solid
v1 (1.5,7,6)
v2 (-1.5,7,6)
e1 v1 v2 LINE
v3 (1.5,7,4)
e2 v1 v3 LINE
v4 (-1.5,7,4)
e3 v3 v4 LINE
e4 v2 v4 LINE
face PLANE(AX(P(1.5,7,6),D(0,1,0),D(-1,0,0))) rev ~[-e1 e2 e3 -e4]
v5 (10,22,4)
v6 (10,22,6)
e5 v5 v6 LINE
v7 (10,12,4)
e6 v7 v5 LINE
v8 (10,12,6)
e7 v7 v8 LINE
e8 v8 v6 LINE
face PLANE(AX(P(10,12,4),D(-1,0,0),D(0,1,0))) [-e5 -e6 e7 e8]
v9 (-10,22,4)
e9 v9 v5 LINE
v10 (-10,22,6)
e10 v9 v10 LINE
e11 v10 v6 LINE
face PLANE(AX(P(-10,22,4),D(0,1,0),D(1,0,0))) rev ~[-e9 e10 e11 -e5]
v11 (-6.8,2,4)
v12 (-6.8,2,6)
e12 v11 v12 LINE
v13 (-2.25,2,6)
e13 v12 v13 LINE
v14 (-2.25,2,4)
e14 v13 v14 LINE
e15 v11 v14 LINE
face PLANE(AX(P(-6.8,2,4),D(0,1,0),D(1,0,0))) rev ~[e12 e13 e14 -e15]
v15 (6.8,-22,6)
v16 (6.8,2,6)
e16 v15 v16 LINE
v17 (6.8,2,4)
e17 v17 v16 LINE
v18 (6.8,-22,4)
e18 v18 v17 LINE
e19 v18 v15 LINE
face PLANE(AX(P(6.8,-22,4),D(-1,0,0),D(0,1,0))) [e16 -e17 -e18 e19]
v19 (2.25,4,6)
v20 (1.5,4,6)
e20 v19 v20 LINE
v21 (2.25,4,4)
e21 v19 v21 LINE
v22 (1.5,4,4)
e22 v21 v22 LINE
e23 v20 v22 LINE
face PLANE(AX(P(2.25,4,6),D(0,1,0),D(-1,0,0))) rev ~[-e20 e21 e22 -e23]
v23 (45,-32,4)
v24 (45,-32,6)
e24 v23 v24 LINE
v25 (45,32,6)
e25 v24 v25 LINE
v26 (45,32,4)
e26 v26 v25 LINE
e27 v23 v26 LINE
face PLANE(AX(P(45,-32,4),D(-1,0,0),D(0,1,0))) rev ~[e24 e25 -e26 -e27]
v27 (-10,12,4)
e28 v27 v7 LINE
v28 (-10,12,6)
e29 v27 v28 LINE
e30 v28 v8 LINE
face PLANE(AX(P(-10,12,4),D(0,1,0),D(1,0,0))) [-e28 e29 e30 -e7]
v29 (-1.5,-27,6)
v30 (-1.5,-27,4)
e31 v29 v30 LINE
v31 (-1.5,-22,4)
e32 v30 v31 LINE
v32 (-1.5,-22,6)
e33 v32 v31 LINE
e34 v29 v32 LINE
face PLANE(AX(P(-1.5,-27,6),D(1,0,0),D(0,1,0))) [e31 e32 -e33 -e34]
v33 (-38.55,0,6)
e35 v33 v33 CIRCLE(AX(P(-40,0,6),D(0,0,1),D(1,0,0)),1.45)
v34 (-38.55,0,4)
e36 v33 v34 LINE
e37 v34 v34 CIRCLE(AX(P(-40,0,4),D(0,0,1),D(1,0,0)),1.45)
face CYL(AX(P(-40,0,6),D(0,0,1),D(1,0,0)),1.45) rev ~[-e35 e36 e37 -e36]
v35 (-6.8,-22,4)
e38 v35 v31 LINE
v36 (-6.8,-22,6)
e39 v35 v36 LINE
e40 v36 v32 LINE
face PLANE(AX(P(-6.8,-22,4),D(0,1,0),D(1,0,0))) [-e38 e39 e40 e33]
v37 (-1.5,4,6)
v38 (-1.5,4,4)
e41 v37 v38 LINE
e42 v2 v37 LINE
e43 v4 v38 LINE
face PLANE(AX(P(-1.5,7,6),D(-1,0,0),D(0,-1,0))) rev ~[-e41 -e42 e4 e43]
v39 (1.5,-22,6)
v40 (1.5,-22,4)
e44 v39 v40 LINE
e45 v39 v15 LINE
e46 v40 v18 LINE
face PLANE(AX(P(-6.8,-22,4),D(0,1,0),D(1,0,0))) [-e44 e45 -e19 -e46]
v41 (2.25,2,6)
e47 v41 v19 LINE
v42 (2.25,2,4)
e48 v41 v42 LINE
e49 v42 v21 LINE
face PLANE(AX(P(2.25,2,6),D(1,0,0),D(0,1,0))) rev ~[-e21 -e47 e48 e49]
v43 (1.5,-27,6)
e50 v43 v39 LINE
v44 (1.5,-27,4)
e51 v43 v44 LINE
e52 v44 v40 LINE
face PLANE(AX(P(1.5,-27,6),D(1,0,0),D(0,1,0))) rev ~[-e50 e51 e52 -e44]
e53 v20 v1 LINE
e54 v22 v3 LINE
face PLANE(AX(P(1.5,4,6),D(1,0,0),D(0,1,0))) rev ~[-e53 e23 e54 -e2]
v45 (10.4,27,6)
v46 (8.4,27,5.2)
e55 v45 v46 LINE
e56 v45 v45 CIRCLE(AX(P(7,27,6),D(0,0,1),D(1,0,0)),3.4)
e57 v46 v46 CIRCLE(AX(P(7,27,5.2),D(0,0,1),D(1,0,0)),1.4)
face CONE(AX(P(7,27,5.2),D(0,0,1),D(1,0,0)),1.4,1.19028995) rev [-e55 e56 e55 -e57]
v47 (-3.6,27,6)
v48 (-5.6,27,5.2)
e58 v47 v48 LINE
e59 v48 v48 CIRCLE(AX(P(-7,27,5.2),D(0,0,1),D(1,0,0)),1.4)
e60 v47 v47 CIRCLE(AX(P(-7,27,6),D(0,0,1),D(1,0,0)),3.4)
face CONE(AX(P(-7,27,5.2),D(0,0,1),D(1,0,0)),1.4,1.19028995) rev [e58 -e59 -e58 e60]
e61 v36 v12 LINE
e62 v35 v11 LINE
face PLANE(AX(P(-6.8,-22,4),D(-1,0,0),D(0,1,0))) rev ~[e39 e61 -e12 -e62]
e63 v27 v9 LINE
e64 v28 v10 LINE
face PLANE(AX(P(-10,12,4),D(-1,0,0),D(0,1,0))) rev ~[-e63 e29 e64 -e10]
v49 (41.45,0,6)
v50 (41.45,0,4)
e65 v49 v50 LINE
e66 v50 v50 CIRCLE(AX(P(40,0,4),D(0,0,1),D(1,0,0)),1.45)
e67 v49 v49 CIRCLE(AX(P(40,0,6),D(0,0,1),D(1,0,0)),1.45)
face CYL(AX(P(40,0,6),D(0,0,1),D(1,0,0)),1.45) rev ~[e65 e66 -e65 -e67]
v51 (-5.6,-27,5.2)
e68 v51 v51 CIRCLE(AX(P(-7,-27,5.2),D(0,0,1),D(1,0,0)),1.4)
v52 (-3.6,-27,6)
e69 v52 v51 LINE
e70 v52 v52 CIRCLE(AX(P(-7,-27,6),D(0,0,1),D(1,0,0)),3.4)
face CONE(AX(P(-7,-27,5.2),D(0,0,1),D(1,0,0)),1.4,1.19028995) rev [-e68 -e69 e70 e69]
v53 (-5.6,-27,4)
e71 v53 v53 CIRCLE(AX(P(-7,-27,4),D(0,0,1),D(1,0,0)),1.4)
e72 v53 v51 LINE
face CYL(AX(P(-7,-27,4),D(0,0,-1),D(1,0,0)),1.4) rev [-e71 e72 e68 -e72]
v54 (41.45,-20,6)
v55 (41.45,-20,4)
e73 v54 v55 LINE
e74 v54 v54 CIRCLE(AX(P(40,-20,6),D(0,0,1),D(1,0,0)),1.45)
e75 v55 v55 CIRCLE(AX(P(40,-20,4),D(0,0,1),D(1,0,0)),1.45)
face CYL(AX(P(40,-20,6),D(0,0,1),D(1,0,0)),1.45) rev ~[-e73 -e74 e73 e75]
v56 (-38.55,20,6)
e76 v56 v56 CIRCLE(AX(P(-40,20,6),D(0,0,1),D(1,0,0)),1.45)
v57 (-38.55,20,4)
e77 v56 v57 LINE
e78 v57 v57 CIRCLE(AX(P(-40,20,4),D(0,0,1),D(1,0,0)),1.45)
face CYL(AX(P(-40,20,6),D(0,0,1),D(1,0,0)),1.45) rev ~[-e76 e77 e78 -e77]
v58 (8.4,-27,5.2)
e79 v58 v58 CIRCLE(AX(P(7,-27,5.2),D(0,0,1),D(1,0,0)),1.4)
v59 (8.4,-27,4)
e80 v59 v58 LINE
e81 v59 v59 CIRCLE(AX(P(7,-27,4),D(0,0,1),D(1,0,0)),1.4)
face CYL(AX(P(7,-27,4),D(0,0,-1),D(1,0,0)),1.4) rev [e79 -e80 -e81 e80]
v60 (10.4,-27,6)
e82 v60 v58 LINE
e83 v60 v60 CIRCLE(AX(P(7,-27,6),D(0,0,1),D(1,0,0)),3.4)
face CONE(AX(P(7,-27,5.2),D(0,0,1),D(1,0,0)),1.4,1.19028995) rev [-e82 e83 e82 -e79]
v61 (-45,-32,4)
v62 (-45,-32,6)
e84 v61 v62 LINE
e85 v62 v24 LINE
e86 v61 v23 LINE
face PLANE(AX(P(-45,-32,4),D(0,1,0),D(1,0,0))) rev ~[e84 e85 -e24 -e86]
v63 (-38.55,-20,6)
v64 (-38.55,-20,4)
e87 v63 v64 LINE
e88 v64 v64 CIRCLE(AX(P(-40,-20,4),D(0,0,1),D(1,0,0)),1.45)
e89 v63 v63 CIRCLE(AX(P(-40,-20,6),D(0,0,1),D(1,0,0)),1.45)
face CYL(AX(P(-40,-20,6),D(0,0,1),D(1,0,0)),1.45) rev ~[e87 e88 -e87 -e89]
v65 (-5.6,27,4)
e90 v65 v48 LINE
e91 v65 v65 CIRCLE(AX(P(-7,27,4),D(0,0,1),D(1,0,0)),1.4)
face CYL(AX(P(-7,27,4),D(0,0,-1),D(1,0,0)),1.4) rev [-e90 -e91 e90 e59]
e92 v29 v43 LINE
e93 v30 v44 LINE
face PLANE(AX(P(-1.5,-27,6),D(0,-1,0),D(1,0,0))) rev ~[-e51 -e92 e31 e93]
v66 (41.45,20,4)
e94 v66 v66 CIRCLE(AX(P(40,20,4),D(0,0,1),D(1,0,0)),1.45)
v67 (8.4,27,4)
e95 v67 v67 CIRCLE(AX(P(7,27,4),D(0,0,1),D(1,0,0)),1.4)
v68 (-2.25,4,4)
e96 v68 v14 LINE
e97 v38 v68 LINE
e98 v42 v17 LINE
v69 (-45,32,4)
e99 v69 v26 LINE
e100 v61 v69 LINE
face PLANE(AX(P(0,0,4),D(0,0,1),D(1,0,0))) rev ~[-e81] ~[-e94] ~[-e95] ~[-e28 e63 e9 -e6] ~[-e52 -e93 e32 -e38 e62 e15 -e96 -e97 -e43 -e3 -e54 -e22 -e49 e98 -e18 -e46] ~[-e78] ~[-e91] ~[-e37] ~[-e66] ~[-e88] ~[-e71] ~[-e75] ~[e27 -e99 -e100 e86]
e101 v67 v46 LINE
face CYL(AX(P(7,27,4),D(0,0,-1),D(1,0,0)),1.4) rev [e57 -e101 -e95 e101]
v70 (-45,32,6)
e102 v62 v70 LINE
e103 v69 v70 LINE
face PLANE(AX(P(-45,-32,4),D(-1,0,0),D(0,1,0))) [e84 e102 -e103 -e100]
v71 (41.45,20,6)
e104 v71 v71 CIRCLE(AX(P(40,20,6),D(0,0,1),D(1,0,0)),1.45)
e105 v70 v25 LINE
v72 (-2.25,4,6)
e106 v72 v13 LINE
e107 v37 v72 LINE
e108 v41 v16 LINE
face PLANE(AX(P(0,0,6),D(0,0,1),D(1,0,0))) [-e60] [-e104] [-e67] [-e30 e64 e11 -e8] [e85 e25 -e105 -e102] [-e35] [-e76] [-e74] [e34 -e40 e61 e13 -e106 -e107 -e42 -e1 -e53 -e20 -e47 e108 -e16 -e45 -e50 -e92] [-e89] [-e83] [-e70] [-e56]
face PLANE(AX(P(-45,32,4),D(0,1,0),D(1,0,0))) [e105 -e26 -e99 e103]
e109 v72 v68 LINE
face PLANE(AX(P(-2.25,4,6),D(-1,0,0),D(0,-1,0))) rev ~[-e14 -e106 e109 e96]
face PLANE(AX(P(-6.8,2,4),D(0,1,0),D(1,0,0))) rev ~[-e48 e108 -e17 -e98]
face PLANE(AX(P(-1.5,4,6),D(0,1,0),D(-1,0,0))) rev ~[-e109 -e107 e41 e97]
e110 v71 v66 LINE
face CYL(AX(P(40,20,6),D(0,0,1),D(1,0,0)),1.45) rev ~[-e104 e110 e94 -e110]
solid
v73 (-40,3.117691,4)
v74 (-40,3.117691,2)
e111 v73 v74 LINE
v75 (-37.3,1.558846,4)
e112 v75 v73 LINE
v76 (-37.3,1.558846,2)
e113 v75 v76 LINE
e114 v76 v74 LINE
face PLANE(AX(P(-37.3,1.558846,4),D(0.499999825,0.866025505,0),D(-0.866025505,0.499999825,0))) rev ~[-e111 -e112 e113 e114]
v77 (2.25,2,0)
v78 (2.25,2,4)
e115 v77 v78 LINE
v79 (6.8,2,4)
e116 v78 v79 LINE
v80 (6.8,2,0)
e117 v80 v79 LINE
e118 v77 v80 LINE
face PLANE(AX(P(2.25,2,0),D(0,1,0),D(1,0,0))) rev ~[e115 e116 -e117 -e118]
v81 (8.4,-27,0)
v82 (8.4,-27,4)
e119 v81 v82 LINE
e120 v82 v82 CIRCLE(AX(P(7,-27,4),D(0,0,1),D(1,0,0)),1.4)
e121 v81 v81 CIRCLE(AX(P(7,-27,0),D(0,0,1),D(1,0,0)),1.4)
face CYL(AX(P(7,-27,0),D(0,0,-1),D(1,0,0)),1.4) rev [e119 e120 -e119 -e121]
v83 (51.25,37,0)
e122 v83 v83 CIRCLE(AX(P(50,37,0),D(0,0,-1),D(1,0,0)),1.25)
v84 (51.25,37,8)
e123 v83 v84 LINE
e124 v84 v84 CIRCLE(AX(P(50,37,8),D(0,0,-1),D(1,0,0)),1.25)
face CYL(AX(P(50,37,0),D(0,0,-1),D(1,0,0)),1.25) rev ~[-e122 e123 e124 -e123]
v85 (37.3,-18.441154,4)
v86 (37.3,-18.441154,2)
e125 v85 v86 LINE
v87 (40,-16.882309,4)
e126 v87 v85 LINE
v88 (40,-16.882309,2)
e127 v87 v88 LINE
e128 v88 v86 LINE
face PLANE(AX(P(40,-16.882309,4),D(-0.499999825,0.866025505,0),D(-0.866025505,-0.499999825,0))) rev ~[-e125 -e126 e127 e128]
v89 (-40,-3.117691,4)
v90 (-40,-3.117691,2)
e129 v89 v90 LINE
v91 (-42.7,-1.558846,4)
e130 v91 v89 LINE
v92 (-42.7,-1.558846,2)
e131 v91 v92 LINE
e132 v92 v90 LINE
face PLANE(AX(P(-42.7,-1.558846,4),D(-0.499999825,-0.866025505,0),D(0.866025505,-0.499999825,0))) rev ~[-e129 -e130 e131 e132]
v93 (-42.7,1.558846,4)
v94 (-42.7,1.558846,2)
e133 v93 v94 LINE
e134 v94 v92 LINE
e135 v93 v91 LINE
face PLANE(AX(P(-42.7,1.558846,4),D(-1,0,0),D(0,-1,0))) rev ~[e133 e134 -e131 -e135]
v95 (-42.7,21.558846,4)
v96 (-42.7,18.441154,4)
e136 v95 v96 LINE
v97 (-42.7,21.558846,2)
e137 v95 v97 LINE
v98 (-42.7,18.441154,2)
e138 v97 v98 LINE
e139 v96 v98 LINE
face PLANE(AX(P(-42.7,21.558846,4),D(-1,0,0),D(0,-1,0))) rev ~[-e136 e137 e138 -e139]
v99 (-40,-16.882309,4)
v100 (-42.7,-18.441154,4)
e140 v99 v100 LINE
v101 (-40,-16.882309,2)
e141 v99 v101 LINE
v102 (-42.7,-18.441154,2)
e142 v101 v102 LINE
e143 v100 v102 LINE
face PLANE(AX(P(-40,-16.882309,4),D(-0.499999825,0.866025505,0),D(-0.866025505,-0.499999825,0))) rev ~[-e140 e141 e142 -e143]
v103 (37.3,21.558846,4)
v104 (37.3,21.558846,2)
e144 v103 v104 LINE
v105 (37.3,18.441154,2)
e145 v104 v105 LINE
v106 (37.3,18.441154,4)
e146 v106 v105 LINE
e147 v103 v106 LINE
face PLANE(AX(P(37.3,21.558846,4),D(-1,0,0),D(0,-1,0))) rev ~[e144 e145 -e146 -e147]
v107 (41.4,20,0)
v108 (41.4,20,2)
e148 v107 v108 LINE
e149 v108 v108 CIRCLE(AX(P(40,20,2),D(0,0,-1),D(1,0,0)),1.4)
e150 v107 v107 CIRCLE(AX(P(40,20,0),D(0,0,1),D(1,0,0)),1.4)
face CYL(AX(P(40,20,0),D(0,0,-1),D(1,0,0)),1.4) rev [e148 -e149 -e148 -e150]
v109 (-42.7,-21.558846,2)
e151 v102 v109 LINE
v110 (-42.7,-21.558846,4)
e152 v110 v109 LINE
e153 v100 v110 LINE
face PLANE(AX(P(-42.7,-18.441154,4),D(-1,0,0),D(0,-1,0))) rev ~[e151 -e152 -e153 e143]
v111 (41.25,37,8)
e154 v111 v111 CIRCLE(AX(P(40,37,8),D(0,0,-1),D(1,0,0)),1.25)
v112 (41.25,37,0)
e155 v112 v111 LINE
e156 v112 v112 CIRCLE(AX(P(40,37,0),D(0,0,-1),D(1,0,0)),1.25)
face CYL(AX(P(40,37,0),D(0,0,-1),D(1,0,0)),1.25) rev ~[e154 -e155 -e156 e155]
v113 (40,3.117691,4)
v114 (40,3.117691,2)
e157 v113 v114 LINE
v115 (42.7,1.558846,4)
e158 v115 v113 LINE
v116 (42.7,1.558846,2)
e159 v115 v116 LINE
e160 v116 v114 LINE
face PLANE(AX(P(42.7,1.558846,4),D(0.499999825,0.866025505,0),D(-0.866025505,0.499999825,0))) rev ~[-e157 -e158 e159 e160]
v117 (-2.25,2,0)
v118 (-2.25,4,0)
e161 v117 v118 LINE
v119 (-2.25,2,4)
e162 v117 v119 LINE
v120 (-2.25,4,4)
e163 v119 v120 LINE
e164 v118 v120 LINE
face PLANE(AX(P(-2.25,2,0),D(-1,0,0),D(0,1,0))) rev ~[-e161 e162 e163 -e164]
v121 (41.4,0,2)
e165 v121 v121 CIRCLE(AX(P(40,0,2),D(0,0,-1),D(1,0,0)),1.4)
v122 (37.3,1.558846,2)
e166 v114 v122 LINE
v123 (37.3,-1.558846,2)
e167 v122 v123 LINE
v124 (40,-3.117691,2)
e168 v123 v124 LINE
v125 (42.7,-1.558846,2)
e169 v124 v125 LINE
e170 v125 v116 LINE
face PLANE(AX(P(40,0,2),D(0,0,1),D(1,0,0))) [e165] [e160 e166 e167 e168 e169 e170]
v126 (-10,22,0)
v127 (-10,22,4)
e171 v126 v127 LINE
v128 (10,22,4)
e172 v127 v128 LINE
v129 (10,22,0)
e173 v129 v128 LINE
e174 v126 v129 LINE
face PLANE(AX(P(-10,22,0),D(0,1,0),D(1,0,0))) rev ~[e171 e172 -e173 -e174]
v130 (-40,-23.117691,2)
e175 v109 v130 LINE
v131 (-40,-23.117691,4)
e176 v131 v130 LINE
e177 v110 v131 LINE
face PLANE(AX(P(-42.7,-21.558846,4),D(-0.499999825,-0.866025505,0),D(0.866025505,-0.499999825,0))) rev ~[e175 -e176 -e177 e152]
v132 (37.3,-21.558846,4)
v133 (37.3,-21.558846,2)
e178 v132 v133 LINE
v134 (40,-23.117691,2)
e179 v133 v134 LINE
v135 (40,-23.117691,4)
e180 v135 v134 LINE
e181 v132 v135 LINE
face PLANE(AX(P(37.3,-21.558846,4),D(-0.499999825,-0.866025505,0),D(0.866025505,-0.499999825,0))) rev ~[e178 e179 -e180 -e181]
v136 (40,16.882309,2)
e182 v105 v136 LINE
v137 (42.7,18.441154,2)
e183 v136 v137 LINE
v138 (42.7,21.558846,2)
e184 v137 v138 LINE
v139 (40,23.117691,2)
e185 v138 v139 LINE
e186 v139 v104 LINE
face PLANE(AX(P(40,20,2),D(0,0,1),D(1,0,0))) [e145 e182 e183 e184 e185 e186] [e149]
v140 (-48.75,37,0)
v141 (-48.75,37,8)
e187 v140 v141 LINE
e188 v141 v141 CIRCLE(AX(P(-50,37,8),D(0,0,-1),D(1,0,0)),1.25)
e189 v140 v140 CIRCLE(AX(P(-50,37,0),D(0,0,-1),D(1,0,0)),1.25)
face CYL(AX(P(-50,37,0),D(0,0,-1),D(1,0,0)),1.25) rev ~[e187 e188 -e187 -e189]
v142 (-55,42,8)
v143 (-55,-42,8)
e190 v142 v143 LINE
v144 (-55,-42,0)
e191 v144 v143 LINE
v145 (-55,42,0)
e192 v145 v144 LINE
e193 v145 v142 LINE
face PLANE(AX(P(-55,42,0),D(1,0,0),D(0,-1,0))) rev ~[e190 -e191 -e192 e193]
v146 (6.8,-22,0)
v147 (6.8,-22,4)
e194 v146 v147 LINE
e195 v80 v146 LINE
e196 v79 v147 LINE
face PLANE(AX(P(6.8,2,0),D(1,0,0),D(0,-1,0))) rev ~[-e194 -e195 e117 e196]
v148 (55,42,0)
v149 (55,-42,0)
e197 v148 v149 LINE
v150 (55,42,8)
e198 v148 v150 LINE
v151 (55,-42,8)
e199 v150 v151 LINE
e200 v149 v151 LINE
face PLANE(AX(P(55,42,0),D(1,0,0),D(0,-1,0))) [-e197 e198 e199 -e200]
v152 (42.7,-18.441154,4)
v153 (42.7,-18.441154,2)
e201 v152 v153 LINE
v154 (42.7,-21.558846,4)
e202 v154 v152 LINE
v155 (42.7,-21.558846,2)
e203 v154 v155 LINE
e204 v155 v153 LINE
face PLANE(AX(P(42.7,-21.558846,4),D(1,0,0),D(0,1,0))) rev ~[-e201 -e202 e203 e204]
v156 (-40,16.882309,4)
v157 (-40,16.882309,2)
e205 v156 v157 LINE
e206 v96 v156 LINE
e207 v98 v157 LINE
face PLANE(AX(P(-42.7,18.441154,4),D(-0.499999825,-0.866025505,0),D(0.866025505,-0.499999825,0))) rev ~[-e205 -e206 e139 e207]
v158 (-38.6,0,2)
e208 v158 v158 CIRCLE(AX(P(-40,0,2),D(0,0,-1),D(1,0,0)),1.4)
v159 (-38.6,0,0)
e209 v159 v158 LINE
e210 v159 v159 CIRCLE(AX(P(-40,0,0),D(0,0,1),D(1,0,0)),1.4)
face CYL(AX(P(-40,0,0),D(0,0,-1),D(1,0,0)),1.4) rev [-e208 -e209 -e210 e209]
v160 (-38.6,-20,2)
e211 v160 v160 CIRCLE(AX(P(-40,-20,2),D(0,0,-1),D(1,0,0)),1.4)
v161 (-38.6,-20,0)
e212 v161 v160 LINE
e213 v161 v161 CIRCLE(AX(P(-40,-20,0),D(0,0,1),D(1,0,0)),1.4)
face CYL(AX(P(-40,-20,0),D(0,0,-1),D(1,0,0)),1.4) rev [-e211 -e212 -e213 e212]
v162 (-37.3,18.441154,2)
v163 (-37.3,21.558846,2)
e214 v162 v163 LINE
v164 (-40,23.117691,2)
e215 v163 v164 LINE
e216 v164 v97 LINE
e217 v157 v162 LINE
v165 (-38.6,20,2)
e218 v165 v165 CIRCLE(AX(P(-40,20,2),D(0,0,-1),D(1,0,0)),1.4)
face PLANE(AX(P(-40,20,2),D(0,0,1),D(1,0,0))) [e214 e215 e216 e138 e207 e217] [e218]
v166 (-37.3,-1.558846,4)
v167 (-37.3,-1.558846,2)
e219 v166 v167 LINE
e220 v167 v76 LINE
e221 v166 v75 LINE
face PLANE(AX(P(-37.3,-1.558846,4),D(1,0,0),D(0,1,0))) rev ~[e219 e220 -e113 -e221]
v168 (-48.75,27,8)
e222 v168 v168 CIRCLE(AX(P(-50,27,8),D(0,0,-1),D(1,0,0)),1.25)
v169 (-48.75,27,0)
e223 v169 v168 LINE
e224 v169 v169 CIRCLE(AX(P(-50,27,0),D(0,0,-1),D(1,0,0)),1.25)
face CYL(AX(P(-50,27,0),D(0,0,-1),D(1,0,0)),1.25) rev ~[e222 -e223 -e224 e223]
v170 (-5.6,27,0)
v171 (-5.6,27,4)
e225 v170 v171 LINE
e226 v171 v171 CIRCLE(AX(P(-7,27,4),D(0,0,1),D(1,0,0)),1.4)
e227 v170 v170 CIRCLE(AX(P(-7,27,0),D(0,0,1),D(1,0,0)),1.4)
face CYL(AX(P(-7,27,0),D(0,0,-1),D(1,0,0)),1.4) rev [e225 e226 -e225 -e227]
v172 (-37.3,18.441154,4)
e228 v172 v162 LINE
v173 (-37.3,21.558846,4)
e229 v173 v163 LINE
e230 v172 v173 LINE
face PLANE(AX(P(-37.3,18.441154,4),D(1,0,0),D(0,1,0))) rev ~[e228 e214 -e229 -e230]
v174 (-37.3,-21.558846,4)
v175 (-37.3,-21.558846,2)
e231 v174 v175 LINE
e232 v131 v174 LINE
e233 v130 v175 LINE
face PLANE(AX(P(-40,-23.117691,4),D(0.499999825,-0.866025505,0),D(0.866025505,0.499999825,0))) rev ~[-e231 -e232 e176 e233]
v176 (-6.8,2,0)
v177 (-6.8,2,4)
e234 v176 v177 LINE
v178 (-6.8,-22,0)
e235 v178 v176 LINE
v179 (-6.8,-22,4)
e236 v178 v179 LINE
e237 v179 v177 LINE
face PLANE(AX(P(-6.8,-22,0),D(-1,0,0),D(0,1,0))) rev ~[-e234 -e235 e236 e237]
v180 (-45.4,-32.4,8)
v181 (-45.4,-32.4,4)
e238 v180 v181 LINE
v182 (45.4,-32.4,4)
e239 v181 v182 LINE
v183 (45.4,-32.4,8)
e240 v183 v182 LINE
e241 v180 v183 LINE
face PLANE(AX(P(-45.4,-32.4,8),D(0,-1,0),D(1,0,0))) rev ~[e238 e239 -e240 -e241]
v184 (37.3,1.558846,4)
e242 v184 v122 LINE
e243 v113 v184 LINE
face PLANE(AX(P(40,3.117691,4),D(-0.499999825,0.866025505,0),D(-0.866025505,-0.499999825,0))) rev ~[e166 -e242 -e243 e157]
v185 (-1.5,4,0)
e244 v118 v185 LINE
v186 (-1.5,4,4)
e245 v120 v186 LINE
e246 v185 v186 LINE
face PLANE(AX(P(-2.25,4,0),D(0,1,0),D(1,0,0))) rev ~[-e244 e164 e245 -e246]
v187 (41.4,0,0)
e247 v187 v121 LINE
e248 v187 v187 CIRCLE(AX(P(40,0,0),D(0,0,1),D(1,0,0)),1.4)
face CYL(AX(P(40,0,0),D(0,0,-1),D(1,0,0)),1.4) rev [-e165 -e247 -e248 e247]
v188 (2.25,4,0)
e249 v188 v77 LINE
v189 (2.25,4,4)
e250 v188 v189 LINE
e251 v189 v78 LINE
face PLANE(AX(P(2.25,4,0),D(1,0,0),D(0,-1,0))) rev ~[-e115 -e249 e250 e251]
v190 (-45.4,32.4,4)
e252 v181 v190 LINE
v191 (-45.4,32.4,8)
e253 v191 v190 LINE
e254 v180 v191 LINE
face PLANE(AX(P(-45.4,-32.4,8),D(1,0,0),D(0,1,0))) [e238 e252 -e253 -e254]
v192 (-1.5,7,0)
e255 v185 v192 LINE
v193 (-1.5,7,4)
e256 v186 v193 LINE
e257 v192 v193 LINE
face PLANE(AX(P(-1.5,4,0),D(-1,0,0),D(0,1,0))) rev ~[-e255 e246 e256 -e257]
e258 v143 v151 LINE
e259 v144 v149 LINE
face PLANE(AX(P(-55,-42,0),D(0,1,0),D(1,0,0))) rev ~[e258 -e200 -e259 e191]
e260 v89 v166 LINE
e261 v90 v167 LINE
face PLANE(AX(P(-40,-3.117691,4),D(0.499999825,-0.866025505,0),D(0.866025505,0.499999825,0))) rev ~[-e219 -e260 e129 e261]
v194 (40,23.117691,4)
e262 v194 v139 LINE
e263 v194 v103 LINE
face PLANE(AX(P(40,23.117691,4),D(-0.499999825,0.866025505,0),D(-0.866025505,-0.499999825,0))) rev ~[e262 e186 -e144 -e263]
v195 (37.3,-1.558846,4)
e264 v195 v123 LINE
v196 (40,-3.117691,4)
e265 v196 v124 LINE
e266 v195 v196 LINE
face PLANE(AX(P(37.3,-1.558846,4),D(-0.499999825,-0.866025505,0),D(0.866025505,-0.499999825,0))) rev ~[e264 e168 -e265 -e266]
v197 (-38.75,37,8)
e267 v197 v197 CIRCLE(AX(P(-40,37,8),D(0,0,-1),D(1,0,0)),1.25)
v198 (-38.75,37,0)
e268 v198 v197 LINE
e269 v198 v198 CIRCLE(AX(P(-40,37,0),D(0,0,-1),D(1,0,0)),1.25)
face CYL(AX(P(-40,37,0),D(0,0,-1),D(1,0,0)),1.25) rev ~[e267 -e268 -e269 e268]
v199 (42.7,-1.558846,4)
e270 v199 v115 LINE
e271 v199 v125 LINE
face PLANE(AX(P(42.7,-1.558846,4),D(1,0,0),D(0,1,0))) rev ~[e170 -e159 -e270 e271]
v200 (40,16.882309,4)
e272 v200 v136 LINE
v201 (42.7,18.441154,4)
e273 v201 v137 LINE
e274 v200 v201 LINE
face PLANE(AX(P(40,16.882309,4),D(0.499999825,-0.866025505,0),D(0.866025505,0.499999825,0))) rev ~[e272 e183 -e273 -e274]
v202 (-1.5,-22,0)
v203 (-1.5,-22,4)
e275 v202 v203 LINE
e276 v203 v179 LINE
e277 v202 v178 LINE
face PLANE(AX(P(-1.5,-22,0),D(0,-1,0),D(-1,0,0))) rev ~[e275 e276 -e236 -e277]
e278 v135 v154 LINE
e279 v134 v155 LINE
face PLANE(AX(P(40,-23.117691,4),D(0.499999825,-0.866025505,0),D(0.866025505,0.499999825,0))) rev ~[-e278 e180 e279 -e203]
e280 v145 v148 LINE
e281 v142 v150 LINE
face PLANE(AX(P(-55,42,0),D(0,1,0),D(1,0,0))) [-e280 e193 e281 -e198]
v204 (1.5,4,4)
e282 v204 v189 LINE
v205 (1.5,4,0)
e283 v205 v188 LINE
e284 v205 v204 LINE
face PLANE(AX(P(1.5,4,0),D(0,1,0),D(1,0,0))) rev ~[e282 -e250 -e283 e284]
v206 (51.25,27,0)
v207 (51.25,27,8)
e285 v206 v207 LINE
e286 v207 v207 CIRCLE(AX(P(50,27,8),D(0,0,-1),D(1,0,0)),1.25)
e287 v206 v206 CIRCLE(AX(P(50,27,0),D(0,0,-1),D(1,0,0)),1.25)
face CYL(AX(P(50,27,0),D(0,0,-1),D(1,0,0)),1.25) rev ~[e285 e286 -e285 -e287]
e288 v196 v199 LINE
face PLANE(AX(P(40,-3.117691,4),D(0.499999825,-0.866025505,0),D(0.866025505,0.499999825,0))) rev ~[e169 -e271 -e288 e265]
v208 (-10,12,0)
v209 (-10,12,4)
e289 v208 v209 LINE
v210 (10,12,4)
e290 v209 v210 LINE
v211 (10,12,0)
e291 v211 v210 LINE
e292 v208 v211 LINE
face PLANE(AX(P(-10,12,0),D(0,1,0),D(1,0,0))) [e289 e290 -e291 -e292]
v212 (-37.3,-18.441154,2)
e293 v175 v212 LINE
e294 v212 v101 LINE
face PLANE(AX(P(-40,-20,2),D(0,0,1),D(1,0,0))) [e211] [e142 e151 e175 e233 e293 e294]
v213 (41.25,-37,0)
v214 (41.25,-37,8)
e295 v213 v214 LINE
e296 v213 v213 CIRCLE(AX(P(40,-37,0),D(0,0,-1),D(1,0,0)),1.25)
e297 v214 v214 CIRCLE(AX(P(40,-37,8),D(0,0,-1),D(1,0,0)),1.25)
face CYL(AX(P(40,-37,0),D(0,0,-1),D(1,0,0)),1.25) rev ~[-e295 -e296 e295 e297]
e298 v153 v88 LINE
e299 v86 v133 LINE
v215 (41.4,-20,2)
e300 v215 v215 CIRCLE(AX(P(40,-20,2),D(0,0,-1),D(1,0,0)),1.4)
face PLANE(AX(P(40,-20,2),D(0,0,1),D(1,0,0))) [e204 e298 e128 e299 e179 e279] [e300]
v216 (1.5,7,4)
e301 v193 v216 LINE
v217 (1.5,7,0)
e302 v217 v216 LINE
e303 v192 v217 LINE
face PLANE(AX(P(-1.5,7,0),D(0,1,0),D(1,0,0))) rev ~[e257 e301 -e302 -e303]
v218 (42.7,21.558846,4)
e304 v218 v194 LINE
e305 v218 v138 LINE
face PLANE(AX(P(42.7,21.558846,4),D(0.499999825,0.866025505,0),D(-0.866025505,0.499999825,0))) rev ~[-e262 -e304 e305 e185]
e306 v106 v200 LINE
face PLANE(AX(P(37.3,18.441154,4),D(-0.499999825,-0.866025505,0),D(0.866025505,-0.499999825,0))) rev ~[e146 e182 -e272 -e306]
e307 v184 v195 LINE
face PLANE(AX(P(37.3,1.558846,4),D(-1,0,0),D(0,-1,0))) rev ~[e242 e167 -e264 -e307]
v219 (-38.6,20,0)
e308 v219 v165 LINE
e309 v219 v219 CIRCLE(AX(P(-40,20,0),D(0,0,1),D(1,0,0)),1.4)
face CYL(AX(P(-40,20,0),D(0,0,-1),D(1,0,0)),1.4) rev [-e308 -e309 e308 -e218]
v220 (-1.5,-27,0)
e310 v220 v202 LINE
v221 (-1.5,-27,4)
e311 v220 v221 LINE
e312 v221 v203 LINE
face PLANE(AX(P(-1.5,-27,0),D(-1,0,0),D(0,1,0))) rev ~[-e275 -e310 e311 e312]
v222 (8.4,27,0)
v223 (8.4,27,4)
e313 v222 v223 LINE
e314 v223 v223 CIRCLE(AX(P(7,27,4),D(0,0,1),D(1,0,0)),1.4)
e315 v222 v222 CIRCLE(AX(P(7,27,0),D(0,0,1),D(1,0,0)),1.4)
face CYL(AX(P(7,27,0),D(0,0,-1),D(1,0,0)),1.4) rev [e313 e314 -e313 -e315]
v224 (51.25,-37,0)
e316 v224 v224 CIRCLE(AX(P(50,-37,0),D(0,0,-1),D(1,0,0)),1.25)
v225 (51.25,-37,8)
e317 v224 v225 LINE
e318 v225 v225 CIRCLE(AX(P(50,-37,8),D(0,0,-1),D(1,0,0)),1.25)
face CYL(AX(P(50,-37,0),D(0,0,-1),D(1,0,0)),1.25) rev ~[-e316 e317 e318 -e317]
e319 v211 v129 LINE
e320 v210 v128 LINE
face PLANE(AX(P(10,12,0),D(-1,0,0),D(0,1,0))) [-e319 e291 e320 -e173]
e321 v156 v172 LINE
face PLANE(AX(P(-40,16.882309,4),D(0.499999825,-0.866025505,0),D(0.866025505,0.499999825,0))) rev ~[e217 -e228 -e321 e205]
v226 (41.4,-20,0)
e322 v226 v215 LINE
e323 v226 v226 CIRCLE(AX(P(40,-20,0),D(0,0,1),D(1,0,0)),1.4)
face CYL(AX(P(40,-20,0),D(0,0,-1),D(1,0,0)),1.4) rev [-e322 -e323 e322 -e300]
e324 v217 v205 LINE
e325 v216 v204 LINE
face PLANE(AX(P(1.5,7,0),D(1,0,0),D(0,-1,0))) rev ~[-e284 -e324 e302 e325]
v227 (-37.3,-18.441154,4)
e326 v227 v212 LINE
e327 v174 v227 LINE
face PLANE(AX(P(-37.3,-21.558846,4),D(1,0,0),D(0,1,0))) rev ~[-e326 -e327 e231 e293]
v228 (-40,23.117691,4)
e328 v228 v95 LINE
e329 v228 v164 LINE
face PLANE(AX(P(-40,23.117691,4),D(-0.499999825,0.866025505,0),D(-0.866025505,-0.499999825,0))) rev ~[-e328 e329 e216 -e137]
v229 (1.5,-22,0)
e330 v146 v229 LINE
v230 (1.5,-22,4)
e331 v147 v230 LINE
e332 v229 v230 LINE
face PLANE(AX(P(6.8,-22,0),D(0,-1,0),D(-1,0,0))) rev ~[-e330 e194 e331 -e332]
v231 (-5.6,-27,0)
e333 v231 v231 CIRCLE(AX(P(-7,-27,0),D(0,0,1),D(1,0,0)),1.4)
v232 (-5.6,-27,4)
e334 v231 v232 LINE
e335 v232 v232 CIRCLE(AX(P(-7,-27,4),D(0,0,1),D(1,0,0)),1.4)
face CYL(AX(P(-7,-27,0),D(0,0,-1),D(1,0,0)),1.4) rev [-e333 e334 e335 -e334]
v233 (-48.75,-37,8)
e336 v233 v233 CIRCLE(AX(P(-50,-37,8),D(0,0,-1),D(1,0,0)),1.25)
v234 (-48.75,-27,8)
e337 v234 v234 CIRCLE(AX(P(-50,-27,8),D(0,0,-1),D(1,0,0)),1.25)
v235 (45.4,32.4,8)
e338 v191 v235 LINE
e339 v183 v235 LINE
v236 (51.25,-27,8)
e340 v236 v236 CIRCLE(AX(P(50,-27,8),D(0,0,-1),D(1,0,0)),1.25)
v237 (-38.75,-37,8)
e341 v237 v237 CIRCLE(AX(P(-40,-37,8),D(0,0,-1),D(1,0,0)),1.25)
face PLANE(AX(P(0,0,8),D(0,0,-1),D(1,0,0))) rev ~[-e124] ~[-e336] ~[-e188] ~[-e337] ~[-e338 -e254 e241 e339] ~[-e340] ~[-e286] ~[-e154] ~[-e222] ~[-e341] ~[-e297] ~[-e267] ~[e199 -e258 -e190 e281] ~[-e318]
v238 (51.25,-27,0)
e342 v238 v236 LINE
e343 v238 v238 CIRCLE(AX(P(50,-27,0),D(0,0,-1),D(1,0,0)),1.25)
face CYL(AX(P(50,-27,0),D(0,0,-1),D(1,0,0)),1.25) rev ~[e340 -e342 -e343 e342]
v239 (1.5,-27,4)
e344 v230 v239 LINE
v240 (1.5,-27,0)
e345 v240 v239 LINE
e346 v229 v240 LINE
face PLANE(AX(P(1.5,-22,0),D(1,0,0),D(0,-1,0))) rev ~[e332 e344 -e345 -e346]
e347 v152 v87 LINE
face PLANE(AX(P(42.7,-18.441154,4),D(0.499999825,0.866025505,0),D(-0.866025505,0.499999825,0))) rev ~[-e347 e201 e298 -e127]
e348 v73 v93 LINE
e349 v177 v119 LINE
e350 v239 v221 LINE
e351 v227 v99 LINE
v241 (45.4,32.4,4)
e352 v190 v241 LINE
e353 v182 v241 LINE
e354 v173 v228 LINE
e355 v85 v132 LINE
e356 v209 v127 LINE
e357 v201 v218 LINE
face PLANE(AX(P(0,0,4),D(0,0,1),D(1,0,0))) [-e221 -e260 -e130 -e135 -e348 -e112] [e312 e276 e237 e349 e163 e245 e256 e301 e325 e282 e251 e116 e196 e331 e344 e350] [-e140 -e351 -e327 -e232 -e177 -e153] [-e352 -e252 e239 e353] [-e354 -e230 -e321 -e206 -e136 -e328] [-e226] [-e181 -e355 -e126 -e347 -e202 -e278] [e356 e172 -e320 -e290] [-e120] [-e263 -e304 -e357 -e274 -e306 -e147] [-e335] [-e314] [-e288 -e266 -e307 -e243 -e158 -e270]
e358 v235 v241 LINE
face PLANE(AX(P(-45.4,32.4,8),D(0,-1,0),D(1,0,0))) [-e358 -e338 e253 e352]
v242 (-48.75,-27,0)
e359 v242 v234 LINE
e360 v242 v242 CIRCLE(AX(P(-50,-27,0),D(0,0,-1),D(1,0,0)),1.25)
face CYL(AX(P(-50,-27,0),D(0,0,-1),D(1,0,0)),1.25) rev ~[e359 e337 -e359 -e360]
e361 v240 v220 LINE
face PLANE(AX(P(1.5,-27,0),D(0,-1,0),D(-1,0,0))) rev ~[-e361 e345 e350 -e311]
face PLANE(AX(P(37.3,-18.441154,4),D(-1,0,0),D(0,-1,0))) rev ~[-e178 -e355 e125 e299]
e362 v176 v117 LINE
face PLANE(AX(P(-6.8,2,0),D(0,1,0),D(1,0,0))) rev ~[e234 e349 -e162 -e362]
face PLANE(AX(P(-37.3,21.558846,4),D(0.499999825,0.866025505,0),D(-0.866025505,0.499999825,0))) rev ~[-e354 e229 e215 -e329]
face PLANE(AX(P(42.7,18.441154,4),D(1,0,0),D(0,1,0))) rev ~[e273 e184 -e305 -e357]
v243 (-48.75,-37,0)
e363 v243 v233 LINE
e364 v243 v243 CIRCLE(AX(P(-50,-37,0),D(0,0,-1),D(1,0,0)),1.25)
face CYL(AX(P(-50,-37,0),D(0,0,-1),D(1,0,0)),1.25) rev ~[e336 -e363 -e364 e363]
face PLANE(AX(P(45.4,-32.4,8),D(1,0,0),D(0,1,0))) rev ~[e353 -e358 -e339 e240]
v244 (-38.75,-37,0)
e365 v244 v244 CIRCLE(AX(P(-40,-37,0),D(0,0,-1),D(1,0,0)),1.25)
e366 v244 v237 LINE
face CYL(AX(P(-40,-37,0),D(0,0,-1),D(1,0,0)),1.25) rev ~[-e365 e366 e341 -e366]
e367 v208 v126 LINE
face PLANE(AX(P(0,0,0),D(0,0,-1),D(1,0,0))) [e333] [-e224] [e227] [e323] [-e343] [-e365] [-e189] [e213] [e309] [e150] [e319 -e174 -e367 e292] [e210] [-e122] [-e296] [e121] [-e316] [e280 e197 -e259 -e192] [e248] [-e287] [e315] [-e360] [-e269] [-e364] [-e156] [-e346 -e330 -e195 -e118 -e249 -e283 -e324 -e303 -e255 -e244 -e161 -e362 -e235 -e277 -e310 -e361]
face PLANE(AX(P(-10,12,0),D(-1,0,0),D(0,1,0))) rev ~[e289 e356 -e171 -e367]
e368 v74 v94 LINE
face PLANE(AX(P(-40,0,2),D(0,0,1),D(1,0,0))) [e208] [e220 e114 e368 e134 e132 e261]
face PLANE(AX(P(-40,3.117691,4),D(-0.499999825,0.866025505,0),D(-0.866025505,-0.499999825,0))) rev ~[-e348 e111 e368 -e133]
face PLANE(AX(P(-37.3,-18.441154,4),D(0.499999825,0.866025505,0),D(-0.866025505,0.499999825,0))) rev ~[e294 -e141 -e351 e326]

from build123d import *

# Parameters (mm, degrees)
SKETCH_W        = 90
SKETCH_H        = 64
SKETCH_R        = 1.4
SKETCH_W_2      = 20
SKETCH_H_2      = 10
PAD_DEPTH       = 4
POCKET_DEPTH    = 2
SKETCH005_W     = 110
SKETCH005_H     = 84
SKETCH005_R     = 1.25
SKETCH005_W_2   = 90
SKETCH005_H_2   = 64
PAD002_DEPTH    = 8
SKETCH006_W     = 90.8
SKETCH006_H     = 64.8
POCKET001_DEPTH = 4
SKETCH003_W     = 90
SKETCH003_H     = 64
SKETCH003_R     = 1.4
SKETCH003_W_2   = 20
SKETCH003_H_2   = 10
SKETCH003_W_3   = 13.6
SKETCH003_H_3   = 24
PAD001_DEPTH    = 2
SKETCH004_R     = 1.45
HOLE_DEPTH      = 25
SKETCH007_W     = 3
SKETCH007_H     = 5
POCKET002_DEPTH = 2.001
CHAMFER_SIZE2   = 0.8
CHAMFER_SIZE    = 2


with BuildPart() as mountingplatebody:
    # Sketch → Pad (new body)
    with BuildSketch(Plane.XY):
        Rectangle(SKETCH_W, SKETCH_H)
        with Locations((-40, 20)):
            Circle(SKETCH_R, mode=Mode.SUBTRACT)
        with Locations((-40, 0)):
            Circle(SKETCH_R, mode=Mode.SUBTRACT)
        with Locations((-40, -20)):
            Circle(SKETCH_R, mode=Mode.SUBTRACT)
        with Locations((40, 20)):
            Circle(SKETCH_R, mode=Mode.SUBTRACT)
        with Locations((40, 0)):
            Circle(SKETCH_R, mode=Mode.SUBTRACT)
        with Locations((40, -20)):
            Circle(SKETCH_R, mode=Mode.SUBTRACT)
        with Locations((-7, 27)):
            Circle(SKETCH_R, mode=Mode.SUBTRACT)
        with Locations((7, 27)):
            Circle(SKETCH_R, mode=Mode.SUBTRACT)
        with Locations((7, -27)):
            Circle(SKETCH_R, mode=Mode.SUBTRACT)
        with Locations((-7, -27)):
            Circle(SKETCH_R, mode=Mode.SUBTRACT)
        with Locations((0, 17)):
            Rectangle(SKETCH_W_2, SKETCH_H_2, mode=Mode.SUBTRACT)
        Polygon((-6.8, 2), (-2.25, 2), (-2.25, 4), (-1.5, 4), (-1.5, 7), (1.5, 7), (1.5, 4), (2.25, 4), (2.25, 2), (6.8, 2), (6.8, -22), (1.5, -22), (1.5, -27), (-1.5, -27), (-1.5, -22), (-6.8, -22), align=None, mode=Mode.SUBTRACT)
    extrude(amount=PAD_DEPTH)

    # Sketch002 (on DatumPlane) → Pocket (cut)
    with BuildSketch(Plane.XY.offset(4)):
        Polygon((42.7, 21.558846), (40, 23.117691), (37.3, 21.558846), (37.3, 18.441154), (40, 16.882309), (42.7, 18.441154), align=None)
        Polygon((-40, 3.117691), (-42.7, 1.558846), (-42.7, -1.558846), (-40, -3.117691), (-37.3, -1.558846), (-37.3, 1.558846), align=None)
        Polygon((40, 3.117691), (37.3, 1.558846), (37.3, -1.558846), (40, -3.117691), (42.7, -1.558846), (42.7, 1.558846), align=None)
        Polygon((40, -23.117691), (42.7, -21.558846), (42.7, -18.441154), (40, -16.882309), (37.3, -18.441154), (37.3, -21.558846), align=None)
        Polygon((-37.3, 18.441154), (-37.3, 21.558846), (-40, 23.117691), (-42.7, 21.558846), (-42.7, 18.441154), (-40, 16.882309), align=None)
        Polygon((-40, -23.117691), (-37.3, -21.558846), (-37.3, -18.441154), (-40, -16.882309), (-42.7, -18.441154), (-42.7, -21.558846), align=None)
    extrude(amount=-POCKET_DEPTH, mode=Mode.SUBTRACT)

    # Sketch005 (on Face4 of Pocket) → Pad002 (join)
    with BuildSketch(Plane(origin=(0, 0, 0), x_dir=(1, 0, 0), z_dir=(0, 0, -1))):
        Rectangle(SKETCH005_W, SKETCH005_H)
        with Locations((-50, 37)):
            Circle(SKETCH005_R, mode=Mode.SUBTRACT)
        with Locations((-50, 27)):
            Circle(SKETCH005_R, mode=Mode.SUBTRACT)
        with Locations((-40, 37)):
            Circle(SKETCH005_R, mode=Mode.SUBTRACT)
        with Locations((50, 27)):
            Circle(SKETCH005_R, mode=Mode.SUBTRACT)
        with Locations((50, 37)):
            Circle(SKETCH005_R, mode=Mode.SUBTRACT)
        with Locations((40, 37)):
            Circle(SKETCH005_R, mode=Mode.SUBTRACT)
        with Locations((-50, -37)):
            Circle(SKETCH005_R, mode=Mode.SUBTRACT)
        with Locations((-40, -37)):
            Circle(SKETCH005_R, mode=Mode.SUBTRACT)
        with Locations((-50, -27)):
            Circle(SKETCH005_R, mode=Mode.SUBTRACT)
        with Locations((40, -37)):
            Circle(SKETCH005_R, mode=Mode.SUBTRACT)
        with Locations((50, -37)):
            Circle(SKETCH005_R, mode=Mode.SUBTRACT)
        with Locations((50, -27)):
            Circle(SKETCH005_R, mode=Mode.SUBTRACT)
        Rectangle(SKETCH005_W_2, SKETCH005_H_2, mode=Mode.SUBTRACT)
    extrude(amount=-PAD002_DEPTH)

    # Sketch006 (on Face56 of Pad002) → Pocket001 (cut)
    with BuildSketch(Plane.XY.offset(8)):
        Rectangle(SKETCH006_W, SKETCH006_H)
    extrude(amount=-POCKET001_DEPTH, mode=Mode.SUBTRACT)


with BuildPart() as coverplatebody:
    # Sketch003 → Pad001 (new body)
    with BuildSketch(Plane.XY):
        Rectangle(SKETCH003_W, SKETCH003_H)
        with Locations((-40, 20)):
            Circle(SKETCH003_R, mode=Mode.SUBTRACT)
        with Locations((-40, 0)):
            Circle(SKETCH003_R, mode=Mode.SUBTRACT)
        with Locations((-40, -20)):
            Circle(SKETCH003_R, mode=Mode.SUBTRACT)
        with Locations((40, 20)):
            Circle(SKETCH003_R, mode=Mode.SUBTRACT)
        with Locations((40, 0)):
            Circle(SKETCH003_R, mode=Mode.SUBTRACT)
        with Locations((40, -20)):
            Circle(SKETCH003_R, mode=Mode.SUBTRACT)
        with Locations((-7, 27)):
            Circle(SKETCH003_R, mode=Mode.SUBTRACT)
        with Locations((7, 27)):
            Circle(SKETCH003_R, mode=Mode.SUBTRACT)
        with Locations((7, -27)):
            Circle(SKETCH003_R, mode=Mode.SUBTRACT)
        with Locations((-7, -27)):
            Circle(SKETCH003_R, mode=Mode.SUBTRACT)
        with Locations((0, 17)):
            Rectangle(SKETCH003_W_2, SKETCH003_H_2, mode=Mode.SUBTRACT)
        with Locations((0, -10)):
            Rectangle(SKETCH003_W_3, SKETCH003_H_3, mode=Mode.SUBTRACT)
    extrude(amount=PAD001_DEPTH)

    # Sketch004 (on DatumPlane) → Hole (cut)
    with BuildSketch(Plane.XY.offset(2)):
        with Locations((40, 20)):
            Circle(SKETCH004_R)
        with Locations((40, -20)):
            Circle(SKETCH004_R)
        with Locations((-40, 0)):
            Circle(SKETCH004_R)
        with Locations((40, 0)):
            Circle(SKETCH004_R)
        with Locations((-40, 20)):
            Circle(SKETCH004_R)
        with Locations((-40, -20)):
            Circle(SKETCH004_R)
    extrude(amount=-HOLE_DEPTH, mode=Mode.SUBTRACT)

    # Sketch007 (on Face5 of Hole) → Pocket002 (cut, through all)
    with BuildSketch(Plane.XY.offset(2)):
        Polygon((1.5, 4), (1.5, 7), (-1.5, 7), (-1.5, 4), (-2.25, 4), (-2.25, 2), (2.25, 2), (2.25, 4), align=None)
        with Locations((0, -24.5)):
            Rectangle(SKETCH007_W, SKETCH007_H)
    extrude(amount=-POCKET002_DEPTH, mode=Mode.SUBTRACT)

    # Chamfer
    chamfer_edges = [coverplatebody.edges().sort_by_distance(p)[0] for p in [
        (5.6, -27, 2),
        (-8.4, -27, 2),
        (5.6, 27, 2),
        (-8.4, 27, 2),
    ]]
    chamfer_side = coverplatebody.faces().sort_by_distance((0, 30.895645, 2))[0]
    chamfer(chamfer_edges, length=CHAMFER_SIZE, length2=CHAMFER_SIZE2, reference=chamfer_side)


with BuildPart() as coverplatebody_1:
    # Body001 placement: moved
    add(coverplatebody.part.moved(Location((0, 0, 4))))


solid = Compound([mountingplatebody.part, coverplatebody_1.part])
